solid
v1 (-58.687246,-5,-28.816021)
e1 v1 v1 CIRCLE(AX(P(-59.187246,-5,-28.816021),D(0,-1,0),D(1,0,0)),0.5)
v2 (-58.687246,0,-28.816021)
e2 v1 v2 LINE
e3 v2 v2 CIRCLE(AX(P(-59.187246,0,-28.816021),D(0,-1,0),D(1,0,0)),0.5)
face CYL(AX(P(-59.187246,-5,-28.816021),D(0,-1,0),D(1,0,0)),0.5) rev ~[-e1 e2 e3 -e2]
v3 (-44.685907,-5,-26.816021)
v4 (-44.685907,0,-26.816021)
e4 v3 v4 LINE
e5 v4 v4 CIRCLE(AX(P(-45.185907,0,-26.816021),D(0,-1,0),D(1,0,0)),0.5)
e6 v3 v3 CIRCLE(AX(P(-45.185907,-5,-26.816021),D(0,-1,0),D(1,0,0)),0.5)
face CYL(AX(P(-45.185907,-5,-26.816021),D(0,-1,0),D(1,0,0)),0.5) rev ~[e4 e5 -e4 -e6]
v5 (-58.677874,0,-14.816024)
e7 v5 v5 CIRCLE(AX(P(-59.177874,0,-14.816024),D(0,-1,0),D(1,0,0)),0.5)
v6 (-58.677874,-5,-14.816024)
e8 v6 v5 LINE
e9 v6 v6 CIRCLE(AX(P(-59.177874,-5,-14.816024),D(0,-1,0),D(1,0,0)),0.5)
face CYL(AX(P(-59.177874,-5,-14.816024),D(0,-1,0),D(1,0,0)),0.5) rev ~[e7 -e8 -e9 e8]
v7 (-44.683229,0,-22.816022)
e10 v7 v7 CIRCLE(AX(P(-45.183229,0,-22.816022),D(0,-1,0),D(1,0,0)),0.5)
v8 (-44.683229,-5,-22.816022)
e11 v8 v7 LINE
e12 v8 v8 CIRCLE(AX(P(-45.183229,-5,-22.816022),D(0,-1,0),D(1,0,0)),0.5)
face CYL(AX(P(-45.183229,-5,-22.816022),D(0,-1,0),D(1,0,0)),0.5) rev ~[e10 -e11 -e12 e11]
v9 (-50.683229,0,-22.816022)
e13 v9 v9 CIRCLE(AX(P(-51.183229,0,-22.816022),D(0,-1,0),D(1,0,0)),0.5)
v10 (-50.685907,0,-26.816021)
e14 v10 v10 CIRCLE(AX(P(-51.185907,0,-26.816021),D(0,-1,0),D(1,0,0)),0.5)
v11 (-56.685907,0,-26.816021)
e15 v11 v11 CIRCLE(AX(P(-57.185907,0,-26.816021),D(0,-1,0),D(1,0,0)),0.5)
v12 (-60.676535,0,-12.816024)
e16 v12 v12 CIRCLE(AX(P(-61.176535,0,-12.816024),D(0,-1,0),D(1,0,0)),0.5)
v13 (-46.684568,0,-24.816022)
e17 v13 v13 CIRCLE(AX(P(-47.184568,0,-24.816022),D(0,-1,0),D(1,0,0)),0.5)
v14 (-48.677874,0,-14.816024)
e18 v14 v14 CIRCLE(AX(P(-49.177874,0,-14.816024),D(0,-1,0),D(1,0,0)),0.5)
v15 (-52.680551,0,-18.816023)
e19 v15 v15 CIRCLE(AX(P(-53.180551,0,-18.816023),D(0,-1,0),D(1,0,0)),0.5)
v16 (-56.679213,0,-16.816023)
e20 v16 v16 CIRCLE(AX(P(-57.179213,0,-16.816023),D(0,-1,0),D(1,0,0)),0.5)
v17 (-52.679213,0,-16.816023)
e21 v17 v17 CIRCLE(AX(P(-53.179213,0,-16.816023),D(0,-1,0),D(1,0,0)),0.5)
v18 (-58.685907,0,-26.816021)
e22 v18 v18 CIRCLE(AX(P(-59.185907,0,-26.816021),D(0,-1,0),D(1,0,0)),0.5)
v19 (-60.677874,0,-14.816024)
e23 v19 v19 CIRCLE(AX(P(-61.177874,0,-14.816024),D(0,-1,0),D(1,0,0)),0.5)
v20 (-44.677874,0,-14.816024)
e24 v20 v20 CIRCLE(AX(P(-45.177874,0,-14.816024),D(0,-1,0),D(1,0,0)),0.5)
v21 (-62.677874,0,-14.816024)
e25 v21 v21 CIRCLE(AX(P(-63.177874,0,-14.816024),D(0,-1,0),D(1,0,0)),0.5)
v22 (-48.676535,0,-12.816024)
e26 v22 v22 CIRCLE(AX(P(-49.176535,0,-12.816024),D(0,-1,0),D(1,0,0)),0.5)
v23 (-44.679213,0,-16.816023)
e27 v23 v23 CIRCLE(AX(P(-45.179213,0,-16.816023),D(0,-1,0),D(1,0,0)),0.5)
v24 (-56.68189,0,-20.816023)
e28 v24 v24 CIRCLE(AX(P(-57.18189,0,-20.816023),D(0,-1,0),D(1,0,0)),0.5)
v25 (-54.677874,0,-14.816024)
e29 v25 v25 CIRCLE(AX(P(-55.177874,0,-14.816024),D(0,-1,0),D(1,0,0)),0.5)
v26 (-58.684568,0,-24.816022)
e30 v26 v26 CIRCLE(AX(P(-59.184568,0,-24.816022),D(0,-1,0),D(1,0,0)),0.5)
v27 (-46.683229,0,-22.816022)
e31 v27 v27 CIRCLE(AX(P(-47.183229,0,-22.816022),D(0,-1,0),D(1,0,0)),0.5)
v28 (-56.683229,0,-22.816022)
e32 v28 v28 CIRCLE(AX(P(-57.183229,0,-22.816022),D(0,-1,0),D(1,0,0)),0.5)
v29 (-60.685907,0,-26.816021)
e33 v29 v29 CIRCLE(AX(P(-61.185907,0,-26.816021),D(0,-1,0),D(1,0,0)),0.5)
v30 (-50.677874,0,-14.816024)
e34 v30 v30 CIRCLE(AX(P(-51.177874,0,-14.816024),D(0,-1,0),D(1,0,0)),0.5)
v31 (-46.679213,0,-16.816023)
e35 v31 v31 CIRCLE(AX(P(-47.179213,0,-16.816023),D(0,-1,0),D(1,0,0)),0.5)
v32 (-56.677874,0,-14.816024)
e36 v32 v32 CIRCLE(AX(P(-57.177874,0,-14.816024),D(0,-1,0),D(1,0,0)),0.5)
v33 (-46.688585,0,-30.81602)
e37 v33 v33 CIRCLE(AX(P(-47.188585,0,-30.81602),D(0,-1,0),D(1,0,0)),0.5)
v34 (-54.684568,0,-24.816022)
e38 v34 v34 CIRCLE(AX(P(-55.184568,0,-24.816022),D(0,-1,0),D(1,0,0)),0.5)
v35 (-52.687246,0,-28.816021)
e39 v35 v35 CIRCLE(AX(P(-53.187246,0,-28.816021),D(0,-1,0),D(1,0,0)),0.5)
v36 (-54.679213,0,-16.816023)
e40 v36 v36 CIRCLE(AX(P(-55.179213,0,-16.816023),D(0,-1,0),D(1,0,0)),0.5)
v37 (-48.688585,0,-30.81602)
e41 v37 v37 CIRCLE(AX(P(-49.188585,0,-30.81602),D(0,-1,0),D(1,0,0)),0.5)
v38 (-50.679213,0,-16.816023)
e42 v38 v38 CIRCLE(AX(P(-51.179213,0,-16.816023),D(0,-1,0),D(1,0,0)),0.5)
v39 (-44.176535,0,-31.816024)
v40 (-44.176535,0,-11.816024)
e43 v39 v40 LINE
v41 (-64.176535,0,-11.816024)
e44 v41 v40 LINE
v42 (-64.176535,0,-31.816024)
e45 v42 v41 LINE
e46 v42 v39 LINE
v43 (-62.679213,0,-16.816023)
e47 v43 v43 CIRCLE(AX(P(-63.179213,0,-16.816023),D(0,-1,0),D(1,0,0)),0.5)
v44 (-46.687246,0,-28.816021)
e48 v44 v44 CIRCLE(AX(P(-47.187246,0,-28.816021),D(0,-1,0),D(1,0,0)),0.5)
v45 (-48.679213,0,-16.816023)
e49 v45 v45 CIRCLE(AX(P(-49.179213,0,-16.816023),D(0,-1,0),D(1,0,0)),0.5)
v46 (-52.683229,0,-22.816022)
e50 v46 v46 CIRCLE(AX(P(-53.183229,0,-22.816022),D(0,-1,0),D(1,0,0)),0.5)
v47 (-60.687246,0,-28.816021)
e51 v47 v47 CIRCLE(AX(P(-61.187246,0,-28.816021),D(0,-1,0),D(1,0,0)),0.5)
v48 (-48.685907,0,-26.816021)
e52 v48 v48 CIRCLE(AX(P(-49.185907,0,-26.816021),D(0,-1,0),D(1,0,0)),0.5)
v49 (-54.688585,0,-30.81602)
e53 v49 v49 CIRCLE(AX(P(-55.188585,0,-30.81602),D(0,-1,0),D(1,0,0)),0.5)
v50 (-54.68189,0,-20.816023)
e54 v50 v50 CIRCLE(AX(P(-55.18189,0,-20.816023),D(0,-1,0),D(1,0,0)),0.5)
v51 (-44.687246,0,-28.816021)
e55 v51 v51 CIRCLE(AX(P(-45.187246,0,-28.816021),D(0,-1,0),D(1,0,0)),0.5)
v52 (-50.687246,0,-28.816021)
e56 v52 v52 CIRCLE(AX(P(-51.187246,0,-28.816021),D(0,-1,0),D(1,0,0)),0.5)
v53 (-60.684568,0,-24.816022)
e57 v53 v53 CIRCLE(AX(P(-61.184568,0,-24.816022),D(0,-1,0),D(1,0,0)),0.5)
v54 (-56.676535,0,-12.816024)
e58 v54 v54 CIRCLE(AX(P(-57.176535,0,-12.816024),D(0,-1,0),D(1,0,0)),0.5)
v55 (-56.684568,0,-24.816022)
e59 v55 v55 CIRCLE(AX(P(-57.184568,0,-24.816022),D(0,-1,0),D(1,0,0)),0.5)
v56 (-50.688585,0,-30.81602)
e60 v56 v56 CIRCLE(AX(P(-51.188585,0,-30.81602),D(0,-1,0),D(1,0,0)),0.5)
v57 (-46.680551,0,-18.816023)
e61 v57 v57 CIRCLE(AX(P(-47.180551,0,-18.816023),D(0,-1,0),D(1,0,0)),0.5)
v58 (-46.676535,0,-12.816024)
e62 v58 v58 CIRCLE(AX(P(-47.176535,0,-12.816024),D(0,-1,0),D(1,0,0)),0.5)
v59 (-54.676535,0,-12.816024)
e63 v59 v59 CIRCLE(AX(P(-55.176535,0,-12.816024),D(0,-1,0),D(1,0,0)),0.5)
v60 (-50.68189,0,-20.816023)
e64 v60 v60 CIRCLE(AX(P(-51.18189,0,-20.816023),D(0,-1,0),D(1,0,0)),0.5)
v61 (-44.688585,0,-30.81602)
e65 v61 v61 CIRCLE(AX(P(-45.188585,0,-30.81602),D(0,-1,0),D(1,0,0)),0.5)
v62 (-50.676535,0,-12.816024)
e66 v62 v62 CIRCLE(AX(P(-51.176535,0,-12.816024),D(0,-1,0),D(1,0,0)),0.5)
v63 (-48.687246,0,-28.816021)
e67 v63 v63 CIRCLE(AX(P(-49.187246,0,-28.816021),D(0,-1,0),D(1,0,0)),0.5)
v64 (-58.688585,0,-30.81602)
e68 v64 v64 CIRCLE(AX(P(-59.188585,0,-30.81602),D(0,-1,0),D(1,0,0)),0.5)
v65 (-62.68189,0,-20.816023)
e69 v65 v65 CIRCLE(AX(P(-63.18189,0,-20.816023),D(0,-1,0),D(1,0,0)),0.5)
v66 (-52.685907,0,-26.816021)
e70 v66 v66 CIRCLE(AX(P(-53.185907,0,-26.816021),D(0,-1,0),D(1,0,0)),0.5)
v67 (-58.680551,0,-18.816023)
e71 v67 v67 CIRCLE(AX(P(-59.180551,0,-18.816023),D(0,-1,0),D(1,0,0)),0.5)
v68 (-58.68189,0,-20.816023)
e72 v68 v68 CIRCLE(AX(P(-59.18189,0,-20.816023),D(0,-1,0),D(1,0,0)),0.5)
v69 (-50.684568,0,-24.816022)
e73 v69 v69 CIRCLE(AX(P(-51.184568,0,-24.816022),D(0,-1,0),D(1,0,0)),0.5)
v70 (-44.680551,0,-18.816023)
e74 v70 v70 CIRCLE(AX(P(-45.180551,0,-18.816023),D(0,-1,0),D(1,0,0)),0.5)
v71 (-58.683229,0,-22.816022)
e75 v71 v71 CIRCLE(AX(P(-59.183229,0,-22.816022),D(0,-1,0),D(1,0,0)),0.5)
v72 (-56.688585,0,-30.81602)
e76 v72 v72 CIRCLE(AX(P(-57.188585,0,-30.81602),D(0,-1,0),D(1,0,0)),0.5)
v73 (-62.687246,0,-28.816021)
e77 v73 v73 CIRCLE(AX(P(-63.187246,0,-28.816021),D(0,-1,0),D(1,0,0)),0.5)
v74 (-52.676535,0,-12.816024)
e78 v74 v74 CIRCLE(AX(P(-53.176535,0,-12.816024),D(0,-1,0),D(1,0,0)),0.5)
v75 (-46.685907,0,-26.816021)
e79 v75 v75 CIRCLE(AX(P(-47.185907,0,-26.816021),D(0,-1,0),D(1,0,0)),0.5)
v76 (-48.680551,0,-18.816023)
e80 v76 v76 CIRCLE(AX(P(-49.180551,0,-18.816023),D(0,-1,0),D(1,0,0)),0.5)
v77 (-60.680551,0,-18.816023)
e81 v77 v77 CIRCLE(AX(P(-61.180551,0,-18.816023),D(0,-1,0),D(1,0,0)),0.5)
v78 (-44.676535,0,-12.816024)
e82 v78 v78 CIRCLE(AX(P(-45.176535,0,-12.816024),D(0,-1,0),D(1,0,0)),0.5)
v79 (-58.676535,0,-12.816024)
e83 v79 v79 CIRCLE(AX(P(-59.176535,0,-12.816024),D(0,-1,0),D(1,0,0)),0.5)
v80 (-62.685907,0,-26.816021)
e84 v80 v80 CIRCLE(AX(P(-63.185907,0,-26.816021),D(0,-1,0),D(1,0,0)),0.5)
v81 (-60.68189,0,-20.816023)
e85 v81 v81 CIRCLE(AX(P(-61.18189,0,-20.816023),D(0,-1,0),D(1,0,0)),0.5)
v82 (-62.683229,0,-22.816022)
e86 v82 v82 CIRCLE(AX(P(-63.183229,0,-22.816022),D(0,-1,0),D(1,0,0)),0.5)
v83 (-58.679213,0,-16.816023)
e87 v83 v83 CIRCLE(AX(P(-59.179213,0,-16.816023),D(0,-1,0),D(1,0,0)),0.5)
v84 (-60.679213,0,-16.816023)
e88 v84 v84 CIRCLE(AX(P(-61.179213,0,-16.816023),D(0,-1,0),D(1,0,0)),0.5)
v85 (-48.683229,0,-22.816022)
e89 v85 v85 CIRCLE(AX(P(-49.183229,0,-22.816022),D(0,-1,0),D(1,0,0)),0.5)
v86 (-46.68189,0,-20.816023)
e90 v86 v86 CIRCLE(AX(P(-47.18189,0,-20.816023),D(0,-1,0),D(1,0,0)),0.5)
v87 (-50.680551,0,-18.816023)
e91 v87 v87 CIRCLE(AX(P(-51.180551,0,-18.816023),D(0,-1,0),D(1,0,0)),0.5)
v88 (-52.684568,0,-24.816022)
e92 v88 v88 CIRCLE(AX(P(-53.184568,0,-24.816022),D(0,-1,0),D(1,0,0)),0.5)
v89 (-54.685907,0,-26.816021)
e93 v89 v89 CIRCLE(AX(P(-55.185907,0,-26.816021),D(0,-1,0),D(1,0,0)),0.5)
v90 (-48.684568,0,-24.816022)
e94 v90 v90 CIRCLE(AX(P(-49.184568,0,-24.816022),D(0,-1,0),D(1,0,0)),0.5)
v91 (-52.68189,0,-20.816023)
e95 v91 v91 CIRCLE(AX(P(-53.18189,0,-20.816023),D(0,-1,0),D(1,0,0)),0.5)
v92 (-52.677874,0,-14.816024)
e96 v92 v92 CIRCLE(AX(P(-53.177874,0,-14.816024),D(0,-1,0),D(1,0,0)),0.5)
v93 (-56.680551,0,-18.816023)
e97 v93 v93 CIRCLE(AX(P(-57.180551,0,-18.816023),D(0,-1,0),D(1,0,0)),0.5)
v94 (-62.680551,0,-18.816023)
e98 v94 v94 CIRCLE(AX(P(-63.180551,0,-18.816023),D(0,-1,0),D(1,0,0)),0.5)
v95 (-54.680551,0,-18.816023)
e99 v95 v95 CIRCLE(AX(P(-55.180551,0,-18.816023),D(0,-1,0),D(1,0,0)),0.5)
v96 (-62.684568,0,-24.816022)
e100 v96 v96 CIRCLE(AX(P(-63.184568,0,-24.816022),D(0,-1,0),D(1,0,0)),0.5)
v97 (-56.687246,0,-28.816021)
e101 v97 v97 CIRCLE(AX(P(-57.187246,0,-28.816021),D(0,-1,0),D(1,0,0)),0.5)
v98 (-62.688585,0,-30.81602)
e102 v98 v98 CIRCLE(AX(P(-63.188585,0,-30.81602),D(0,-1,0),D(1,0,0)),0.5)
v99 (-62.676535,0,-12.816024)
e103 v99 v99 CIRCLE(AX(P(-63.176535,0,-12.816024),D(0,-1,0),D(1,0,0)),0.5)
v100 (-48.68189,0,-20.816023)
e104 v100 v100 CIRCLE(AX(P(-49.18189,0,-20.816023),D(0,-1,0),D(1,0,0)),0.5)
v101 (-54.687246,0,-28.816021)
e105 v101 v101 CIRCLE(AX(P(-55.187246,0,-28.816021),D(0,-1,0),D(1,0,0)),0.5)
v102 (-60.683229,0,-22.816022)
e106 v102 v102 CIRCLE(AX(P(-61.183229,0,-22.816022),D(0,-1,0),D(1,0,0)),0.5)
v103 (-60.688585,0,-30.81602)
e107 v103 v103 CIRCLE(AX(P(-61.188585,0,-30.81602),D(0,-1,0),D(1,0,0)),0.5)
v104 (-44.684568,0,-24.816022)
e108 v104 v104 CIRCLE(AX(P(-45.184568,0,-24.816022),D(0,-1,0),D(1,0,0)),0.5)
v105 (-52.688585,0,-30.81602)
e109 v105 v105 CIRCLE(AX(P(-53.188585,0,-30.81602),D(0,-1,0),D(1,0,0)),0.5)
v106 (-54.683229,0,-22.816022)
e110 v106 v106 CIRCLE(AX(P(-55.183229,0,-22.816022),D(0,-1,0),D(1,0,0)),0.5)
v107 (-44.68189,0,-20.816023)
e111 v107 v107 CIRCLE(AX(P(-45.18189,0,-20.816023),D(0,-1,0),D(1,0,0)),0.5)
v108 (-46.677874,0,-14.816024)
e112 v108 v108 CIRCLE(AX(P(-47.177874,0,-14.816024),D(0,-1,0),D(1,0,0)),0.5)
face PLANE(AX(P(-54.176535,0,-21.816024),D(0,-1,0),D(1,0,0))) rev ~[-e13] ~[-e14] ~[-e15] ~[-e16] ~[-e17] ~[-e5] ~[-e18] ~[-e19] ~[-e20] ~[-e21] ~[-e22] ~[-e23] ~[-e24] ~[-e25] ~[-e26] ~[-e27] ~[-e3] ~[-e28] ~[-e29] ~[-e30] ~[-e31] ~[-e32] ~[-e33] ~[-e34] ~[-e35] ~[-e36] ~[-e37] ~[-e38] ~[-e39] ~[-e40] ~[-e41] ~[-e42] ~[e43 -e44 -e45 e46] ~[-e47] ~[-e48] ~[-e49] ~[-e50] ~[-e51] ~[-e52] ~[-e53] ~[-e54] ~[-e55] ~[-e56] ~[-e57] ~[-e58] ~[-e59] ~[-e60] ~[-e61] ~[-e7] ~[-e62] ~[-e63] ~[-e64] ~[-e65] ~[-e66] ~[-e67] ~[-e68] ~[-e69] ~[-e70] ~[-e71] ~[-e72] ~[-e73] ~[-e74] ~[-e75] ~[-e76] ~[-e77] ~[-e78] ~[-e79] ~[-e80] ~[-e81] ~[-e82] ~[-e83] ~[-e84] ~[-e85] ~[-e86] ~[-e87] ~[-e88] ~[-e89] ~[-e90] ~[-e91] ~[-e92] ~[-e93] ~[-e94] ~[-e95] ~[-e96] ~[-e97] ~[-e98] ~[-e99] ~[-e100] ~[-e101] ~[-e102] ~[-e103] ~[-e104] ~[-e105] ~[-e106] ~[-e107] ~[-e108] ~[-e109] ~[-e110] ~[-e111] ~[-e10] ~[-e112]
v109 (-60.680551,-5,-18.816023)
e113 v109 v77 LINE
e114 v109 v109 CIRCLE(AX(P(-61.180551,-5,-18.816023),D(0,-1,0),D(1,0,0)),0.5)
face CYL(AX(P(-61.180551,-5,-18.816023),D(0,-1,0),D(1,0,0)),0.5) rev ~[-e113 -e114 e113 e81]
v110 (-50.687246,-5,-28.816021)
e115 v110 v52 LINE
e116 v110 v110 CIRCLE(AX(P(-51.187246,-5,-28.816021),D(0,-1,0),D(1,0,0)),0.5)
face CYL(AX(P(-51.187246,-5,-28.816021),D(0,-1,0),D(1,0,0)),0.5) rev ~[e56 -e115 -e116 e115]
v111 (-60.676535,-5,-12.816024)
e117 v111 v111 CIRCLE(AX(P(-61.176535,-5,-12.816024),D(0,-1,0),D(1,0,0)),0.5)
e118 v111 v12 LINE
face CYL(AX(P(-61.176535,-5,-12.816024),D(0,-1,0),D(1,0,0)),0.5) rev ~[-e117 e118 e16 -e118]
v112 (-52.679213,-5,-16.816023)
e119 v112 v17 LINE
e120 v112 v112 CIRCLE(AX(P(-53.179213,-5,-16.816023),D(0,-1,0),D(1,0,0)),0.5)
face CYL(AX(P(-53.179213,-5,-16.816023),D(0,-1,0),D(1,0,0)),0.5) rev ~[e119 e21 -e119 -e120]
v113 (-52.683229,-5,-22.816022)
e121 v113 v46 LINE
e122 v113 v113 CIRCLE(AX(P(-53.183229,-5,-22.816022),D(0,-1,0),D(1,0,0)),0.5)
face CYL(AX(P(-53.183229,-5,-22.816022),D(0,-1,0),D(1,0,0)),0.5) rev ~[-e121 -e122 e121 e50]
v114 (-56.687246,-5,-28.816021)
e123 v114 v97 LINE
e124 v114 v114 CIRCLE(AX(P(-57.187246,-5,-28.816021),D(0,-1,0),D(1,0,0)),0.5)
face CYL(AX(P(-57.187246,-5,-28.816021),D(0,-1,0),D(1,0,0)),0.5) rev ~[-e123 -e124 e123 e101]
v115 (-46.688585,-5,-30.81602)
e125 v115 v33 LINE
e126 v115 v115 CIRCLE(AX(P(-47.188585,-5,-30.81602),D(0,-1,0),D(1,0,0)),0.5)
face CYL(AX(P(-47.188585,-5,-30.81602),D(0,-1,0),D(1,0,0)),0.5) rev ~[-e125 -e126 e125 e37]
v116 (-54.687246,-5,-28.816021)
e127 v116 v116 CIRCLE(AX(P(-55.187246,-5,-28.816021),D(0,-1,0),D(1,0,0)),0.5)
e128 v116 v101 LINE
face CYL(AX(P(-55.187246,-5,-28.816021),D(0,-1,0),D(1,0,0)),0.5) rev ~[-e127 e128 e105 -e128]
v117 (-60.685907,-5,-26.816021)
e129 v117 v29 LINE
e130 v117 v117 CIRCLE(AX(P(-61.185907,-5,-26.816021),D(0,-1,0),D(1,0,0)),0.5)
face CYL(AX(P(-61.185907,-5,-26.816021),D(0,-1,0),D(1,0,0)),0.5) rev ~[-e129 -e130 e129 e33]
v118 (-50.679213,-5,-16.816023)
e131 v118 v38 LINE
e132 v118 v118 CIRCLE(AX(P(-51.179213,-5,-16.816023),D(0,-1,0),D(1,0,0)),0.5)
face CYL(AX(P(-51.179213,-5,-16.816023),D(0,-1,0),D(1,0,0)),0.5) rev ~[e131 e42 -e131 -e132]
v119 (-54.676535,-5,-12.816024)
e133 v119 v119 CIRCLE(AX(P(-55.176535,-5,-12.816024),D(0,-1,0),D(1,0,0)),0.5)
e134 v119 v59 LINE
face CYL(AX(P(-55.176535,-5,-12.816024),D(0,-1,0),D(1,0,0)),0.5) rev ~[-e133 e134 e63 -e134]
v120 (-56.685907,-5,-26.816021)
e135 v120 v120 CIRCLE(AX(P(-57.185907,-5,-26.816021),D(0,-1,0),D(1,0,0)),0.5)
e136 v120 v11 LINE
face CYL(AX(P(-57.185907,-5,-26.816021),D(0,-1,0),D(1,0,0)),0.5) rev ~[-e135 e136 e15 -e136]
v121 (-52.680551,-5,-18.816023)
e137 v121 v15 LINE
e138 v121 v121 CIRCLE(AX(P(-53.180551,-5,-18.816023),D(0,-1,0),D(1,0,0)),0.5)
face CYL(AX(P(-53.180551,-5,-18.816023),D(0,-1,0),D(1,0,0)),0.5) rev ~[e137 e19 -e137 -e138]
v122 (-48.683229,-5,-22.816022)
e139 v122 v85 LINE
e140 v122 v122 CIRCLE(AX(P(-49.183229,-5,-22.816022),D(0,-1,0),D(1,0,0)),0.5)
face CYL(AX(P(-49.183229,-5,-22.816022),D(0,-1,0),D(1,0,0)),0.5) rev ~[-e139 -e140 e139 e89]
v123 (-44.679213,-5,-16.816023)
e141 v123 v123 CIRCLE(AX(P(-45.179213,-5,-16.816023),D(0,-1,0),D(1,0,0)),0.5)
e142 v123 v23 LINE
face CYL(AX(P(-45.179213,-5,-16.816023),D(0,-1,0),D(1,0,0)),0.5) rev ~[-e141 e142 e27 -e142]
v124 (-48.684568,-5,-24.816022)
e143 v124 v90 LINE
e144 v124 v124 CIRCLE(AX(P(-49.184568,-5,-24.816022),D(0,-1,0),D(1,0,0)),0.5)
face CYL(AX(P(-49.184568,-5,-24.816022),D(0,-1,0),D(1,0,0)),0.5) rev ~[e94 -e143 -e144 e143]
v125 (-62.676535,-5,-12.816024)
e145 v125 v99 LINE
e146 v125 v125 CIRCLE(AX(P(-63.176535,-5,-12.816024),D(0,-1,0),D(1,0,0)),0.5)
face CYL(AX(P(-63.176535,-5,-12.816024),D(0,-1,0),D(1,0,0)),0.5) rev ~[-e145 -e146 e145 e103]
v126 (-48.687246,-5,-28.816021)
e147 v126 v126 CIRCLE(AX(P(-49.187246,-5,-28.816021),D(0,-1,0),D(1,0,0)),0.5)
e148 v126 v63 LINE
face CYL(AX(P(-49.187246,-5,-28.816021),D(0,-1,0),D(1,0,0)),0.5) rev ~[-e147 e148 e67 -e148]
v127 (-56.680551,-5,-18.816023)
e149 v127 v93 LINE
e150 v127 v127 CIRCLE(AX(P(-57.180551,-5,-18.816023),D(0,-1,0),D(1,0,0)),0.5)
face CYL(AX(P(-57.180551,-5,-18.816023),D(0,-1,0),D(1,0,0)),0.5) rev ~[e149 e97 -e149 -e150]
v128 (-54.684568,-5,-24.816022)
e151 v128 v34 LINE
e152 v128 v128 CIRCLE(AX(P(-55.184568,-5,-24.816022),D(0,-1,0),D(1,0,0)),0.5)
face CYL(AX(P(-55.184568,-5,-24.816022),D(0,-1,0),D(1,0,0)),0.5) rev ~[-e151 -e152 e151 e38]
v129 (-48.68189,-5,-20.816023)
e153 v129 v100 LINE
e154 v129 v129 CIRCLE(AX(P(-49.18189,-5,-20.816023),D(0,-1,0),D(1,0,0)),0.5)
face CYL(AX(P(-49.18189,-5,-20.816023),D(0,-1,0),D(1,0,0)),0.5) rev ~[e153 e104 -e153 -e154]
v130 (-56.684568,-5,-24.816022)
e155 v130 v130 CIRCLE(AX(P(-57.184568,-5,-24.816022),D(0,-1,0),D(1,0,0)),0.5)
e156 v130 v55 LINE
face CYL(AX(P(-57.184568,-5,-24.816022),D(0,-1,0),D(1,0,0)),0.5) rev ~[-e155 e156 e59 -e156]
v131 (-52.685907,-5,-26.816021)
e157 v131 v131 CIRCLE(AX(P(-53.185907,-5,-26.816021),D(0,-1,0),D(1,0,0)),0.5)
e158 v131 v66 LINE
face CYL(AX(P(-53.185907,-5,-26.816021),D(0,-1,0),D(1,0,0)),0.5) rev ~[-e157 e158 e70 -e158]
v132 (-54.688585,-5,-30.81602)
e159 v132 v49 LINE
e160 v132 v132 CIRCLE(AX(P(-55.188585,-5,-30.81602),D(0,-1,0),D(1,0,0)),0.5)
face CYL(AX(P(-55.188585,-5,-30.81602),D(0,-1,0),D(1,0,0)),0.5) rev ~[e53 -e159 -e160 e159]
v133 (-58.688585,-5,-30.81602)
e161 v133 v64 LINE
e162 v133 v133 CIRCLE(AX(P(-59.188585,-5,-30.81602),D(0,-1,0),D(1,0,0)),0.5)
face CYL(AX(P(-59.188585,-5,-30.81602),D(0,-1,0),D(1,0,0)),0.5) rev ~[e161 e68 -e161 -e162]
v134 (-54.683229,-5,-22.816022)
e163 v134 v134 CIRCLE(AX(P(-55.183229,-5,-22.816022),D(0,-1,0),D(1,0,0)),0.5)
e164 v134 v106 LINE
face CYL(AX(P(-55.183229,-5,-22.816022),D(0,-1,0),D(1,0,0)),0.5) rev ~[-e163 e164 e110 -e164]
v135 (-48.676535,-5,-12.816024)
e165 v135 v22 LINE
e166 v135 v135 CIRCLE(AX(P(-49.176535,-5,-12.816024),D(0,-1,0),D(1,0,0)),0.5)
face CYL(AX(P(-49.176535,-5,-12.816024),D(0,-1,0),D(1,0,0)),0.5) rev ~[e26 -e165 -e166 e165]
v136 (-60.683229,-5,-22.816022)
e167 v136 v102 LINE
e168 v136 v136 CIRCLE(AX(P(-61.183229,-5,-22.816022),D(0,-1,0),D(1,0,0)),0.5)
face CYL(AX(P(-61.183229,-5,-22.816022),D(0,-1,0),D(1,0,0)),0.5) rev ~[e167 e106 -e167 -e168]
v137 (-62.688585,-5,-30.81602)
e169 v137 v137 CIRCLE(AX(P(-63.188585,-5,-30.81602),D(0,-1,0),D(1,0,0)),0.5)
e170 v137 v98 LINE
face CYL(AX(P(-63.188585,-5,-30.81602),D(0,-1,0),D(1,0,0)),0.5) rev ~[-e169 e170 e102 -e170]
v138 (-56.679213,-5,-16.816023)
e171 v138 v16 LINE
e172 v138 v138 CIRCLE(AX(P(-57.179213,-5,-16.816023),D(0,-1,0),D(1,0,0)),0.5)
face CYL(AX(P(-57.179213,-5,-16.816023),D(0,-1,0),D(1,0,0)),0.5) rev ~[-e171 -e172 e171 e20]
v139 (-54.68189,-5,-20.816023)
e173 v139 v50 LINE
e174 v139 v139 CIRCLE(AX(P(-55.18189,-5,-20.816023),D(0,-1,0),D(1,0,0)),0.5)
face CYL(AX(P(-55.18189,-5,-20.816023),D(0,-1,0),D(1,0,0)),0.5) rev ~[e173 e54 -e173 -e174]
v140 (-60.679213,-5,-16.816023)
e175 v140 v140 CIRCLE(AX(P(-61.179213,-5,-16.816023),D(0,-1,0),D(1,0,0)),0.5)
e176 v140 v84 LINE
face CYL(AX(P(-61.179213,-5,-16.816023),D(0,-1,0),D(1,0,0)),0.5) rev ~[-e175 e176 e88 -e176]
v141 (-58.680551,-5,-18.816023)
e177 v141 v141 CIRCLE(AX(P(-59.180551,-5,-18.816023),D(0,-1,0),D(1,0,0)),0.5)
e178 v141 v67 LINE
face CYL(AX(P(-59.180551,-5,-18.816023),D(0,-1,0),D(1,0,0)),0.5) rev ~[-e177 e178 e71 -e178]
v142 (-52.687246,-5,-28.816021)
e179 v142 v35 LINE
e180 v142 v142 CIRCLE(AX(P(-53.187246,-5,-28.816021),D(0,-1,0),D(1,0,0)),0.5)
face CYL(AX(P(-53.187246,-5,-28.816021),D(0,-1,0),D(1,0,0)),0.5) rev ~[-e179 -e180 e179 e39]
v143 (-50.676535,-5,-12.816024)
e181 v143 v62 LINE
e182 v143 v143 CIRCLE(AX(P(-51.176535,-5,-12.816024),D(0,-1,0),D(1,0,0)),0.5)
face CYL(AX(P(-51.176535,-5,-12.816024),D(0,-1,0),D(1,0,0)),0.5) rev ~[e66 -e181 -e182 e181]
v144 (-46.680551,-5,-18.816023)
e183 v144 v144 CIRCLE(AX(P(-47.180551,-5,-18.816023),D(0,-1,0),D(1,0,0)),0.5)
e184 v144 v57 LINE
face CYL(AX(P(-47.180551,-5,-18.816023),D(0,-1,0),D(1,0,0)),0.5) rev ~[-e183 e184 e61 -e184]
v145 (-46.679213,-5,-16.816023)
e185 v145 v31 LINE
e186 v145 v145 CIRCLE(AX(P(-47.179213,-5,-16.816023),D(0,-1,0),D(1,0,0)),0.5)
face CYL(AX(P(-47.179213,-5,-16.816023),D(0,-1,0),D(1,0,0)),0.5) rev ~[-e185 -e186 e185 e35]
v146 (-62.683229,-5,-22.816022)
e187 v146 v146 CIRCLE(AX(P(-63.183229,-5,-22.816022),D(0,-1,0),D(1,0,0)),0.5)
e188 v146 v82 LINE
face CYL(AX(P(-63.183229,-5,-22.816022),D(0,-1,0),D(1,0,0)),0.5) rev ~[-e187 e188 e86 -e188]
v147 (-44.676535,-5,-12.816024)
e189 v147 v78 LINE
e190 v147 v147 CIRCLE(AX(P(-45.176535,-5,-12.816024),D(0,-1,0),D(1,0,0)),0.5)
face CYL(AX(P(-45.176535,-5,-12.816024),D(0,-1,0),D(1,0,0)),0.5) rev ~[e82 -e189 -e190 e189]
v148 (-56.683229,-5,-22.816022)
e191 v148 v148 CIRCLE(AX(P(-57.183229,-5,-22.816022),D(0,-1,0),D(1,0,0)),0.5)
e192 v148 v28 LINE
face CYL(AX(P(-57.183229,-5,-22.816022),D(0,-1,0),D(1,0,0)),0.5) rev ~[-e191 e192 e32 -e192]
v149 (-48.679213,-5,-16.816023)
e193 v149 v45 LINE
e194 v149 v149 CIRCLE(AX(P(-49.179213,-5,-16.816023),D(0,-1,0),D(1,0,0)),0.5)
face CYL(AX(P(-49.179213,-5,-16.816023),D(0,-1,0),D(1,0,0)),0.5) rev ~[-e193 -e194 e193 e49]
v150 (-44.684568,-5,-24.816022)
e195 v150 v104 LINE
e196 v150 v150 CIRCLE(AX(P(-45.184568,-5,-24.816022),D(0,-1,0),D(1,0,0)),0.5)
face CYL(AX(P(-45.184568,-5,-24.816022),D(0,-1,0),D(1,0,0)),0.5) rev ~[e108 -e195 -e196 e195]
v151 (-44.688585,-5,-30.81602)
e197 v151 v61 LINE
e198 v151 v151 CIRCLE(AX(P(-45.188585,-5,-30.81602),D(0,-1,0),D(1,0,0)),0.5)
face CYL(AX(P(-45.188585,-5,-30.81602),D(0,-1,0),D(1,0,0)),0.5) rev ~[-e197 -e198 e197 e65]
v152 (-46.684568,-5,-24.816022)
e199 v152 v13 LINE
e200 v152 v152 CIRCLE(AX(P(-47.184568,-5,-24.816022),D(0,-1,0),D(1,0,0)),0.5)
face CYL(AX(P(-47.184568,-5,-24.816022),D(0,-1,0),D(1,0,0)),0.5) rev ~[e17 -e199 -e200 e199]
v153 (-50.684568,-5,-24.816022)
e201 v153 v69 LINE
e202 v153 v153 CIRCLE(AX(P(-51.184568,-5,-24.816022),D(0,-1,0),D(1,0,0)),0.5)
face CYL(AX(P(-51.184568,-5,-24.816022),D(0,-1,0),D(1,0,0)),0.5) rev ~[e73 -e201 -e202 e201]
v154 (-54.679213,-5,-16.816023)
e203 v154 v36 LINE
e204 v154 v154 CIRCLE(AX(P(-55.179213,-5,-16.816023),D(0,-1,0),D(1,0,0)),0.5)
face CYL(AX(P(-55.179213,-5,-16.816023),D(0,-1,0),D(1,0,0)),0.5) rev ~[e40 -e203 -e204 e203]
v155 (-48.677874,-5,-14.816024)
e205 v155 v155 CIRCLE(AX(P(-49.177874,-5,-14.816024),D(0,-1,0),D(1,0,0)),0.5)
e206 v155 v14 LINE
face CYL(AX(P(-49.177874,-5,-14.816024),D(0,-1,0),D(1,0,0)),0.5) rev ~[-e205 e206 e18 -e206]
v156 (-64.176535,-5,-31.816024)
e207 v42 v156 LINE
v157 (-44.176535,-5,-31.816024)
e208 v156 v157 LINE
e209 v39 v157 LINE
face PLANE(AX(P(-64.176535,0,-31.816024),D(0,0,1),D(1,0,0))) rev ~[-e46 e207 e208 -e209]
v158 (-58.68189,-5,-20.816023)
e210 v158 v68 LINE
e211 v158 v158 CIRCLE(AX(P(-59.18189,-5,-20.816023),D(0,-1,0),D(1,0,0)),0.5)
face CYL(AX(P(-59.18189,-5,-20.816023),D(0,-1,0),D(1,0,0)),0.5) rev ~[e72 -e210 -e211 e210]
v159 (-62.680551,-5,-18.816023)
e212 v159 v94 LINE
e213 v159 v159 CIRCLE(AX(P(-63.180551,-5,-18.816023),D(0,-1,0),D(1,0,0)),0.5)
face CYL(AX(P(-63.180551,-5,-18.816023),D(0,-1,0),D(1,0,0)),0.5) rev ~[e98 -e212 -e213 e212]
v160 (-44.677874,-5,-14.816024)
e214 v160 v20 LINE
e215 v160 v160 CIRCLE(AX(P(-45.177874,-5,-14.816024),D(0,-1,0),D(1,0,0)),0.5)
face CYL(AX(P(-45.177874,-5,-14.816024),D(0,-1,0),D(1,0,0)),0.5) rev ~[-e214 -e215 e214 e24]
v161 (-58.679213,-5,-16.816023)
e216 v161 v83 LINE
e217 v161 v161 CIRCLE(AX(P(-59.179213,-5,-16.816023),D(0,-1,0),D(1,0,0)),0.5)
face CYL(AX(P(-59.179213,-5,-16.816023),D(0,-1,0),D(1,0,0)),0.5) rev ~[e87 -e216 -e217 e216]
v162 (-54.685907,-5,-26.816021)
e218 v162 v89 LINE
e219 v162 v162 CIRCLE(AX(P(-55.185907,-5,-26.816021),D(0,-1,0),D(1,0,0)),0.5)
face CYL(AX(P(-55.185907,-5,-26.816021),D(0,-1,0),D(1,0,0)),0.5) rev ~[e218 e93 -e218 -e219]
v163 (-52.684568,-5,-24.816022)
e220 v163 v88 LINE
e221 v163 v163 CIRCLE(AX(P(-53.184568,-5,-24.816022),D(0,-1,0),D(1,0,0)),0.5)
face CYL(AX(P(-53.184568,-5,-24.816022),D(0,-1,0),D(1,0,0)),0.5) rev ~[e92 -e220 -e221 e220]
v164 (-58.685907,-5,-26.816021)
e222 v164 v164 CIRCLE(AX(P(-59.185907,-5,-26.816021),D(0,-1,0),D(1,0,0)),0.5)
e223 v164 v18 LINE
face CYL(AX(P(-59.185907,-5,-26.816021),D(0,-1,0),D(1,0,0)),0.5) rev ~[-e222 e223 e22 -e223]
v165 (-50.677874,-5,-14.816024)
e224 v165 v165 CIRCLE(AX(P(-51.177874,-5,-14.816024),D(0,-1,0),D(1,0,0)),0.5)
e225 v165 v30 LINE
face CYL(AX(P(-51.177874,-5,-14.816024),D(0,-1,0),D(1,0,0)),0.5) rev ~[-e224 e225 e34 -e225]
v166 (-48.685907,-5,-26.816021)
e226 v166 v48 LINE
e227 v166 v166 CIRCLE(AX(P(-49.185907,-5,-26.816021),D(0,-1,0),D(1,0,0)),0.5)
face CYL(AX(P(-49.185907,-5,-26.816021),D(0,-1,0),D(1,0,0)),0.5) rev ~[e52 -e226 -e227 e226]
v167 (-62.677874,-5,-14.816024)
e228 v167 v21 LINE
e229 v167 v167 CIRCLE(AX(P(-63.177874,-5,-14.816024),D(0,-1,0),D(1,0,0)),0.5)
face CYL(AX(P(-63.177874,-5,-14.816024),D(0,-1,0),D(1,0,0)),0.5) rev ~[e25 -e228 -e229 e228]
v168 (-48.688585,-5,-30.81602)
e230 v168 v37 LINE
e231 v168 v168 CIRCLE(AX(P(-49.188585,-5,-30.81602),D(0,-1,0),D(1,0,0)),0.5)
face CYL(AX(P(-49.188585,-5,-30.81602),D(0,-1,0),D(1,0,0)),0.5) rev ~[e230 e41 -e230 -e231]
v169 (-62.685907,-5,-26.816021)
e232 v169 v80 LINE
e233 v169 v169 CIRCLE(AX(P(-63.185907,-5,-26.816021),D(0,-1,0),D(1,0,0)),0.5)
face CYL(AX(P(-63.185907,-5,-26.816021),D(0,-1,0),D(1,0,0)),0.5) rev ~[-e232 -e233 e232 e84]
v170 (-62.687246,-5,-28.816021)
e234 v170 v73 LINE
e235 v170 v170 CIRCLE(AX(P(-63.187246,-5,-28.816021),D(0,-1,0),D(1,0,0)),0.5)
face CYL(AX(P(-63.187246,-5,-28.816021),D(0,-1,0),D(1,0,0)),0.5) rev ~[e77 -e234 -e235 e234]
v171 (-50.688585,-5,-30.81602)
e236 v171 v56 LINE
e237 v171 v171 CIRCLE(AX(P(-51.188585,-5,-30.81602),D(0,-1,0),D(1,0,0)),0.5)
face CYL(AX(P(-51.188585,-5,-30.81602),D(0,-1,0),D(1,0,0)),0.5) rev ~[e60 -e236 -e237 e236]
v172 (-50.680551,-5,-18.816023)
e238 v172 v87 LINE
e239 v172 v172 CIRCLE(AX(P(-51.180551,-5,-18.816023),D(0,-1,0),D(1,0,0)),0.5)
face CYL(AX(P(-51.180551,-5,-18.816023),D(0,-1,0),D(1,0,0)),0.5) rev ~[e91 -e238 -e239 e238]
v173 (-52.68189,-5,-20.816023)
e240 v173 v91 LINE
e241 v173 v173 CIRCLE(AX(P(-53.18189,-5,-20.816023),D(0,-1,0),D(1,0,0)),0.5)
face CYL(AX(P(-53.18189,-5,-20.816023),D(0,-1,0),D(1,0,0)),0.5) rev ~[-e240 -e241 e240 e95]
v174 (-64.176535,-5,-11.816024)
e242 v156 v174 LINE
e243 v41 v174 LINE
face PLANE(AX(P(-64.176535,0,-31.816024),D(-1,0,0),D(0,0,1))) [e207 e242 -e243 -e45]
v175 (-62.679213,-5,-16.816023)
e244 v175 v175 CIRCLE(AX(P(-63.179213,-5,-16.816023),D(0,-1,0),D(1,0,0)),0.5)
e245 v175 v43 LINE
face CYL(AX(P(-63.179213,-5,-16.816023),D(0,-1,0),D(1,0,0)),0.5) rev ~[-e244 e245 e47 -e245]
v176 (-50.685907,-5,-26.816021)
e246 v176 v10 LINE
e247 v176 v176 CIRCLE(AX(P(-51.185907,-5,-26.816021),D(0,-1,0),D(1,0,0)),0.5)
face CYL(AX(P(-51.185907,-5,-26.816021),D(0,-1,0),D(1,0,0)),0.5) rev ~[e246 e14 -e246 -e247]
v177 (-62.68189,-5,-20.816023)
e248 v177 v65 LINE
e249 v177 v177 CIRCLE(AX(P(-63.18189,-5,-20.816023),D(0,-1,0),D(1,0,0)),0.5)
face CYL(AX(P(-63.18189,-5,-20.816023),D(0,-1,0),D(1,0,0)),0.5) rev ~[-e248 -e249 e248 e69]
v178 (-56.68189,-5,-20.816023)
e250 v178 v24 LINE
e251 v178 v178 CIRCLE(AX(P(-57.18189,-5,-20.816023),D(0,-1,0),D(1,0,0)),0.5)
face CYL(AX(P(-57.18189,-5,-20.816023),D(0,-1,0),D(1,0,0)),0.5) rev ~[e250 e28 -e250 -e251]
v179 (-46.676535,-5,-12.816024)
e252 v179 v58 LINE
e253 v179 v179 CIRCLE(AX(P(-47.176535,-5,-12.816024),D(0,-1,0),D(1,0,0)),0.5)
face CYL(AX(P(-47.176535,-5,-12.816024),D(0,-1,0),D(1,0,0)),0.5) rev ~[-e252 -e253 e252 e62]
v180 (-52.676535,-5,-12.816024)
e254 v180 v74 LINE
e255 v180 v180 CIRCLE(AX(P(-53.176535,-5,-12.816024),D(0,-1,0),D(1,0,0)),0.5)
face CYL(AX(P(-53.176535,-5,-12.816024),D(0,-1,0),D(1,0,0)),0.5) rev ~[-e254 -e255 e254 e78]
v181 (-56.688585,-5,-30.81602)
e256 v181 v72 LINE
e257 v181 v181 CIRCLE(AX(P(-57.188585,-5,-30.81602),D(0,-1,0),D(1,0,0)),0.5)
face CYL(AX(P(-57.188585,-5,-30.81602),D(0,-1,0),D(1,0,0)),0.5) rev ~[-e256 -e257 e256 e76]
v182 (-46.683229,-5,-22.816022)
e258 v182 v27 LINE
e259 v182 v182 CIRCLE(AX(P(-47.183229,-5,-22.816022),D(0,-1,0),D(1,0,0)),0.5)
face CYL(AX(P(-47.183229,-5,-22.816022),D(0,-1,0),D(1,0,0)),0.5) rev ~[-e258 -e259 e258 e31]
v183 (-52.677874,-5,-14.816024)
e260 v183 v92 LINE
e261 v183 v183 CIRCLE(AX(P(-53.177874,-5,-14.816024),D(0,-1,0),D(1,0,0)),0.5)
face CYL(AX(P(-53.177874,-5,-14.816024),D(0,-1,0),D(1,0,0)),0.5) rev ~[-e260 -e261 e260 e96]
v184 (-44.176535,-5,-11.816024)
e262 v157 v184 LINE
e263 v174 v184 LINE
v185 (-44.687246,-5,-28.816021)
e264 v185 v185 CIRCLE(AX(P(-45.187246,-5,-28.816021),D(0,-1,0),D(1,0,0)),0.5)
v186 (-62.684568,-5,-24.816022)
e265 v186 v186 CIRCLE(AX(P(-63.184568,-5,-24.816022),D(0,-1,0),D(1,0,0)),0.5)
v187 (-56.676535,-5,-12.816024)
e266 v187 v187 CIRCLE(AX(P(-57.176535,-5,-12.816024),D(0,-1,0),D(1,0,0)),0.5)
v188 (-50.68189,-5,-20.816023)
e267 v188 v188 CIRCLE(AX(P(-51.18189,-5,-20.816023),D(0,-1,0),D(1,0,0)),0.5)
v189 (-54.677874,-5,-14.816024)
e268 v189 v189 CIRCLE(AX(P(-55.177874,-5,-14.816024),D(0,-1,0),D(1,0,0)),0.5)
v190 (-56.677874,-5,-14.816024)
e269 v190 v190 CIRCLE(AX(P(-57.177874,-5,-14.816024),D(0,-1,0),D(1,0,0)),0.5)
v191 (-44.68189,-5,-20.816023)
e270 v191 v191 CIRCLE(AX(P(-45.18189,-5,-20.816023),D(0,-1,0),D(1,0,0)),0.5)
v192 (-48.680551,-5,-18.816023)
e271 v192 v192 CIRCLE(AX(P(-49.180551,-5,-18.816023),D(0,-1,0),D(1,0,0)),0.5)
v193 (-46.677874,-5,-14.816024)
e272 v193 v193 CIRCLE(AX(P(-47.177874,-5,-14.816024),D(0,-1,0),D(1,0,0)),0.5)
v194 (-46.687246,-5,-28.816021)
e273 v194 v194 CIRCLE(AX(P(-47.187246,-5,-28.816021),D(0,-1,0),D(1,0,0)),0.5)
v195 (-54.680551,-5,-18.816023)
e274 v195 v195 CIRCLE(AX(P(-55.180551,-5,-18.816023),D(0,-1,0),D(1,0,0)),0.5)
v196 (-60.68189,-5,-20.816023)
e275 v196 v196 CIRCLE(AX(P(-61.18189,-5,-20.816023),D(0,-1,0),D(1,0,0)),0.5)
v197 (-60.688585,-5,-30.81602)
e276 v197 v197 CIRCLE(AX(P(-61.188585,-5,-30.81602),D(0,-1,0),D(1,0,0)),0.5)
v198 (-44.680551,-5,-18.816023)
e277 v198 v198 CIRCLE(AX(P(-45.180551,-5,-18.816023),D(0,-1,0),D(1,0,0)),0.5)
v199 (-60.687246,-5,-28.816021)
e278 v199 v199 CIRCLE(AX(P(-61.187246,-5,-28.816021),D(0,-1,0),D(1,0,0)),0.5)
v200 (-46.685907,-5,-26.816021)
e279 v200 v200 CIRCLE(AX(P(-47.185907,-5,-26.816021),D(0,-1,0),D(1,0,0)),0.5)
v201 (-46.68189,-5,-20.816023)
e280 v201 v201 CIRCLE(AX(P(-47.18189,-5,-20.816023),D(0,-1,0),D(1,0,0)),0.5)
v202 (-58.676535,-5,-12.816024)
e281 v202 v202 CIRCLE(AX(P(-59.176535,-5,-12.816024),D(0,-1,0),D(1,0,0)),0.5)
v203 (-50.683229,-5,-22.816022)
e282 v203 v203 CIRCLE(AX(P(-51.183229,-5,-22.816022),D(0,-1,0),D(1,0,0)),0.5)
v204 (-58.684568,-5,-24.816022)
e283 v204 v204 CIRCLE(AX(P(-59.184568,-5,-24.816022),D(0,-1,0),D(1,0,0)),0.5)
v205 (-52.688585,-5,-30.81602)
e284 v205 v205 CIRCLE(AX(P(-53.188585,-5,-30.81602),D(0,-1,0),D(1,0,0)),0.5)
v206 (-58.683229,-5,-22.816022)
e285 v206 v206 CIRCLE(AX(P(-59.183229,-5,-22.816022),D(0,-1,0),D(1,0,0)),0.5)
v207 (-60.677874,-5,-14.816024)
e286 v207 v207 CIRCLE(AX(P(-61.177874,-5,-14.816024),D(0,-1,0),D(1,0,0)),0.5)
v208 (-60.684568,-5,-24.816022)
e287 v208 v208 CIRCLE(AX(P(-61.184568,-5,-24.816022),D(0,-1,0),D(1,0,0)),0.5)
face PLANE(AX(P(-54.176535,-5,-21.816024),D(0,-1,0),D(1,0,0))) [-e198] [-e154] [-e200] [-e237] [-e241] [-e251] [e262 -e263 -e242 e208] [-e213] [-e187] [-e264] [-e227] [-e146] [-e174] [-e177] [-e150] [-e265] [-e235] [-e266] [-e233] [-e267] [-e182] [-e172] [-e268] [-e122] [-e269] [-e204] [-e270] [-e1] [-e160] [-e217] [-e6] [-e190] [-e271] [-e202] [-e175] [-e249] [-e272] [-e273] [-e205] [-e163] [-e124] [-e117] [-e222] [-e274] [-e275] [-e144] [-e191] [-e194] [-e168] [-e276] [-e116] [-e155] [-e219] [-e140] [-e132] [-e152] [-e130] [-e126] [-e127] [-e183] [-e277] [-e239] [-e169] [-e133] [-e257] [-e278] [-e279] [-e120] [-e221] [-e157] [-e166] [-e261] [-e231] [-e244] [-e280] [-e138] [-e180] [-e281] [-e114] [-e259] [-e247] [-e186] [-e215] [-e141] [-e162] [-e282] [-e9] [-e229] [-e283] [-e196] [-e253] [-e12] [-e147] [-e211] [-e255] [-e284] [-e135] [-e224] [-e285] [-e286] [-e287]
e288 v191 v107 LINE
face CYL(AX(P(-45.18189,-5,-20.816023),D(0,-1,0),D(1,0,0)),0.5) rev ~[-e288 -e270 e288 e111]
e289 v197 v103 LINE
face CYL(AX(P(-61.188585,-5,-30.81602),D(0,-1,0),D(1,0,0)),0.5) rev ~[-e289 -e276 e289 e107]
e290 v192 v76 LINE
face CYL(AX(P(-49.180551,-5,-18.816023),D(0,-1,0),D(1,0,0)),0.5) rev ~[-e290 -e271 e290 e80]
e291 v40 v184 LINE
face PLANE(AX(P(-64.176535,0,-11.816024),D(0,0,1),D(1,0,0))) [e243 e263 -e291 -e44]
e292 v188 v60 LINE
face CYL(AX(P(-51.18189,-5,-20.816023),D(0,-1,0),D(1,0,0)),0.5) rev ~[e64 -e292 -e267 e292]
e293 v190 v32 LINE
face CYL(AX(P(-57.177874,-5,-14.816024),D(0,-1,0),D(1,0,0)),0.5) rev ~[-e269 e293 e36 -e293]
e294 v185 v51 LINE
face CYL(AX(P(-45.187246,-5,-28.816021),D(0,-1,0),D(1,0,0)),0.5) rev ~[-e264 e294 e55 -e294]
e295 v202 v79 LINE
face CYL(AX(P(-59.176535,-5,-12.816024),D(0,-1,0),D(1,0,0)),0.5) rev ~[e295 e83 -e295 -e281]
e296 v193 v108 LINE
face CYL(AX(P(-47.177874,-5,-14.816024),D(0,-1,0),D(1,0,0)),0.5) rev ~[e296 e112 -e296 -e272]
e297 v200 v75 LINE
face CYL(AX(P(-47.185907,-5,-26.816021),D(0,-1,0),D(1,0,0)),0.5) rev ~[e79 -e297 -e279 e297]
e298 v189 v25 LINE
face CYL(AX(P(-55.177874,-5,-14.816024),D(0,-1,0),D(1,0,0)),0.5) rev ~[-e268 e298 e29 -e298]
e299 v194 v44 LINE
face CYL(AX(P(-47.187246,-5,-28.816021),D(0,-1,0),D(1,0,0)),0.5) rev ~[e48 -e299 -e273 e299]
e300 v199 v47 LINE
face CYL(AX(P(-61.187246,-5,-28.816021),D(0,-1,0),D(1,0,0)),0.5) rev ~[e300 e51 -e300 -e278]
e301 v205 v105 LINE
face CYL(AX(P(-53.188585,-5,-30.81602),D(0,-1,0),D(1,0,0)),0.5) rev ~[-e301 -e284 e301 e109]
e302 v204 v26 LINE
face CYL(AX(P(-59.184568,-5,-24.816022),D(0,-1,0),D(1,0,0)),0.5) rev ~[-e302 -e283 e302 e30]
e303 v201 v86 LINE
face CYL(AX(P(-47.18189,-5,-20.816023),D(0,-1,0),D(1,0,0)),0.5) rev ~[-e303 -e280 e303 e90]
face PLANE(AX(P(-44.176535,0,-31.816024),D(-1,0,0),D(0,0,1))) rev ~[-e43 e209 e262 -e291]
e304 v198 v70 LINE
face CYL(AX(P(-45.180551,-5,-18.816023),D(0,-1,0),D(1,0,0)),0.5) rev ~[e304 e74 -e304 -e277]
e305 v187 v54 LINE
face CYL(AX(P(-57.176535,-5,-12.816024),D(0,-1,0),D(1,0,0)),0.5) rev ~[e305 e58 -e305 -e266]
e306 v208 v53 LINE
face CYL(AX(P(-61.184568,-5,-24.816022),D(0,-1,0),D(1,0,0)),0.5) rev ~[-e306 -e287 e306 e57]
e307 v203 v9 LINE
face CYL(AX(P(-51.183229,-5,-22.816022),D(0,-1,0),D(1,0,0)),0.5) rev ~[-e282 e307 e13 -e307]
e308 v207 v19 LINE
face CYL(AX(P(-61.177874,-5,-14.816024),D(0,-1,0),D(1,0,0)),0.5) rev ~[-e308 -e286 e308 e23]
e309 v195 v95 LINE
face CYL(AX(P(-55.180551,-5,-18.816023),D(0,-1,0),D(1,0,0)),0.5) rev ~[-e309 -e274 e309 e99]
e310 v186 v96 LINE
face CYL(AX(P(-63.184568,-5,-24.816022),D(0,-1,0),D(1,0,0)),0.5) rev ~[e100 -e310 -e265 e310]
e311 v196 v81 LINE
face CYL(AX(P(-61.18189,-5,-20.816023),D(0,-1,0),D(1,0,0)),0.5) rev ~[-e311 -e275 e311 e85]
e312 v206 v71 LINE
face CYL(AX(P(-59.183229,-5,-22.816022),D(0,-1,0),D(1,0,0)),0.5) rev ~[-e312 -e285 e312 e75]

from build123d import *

# Parameters (mm, degrees)
F0_W     = 20
F0_H     = 20
F1_DEPTH = 5
F2_R     = 0.5
F3_DEPTH = 25


with BuildPart() as f1:
    # F0 (on Front) → F1 (new body)
    with BuildSketch(Plane.XZ):
        with Locations((-54.176535, -21.816024)):
            Rectangle(F0_W, F0_H)
    extrude(amount=F1_DEPTH)

    # F2 (on face) → F3 (cut)
    with BuildSketch(Plane.XZ.offset(5)):
        with Locations((-63.176535, -12.816024)):
            Circle(F2_R)
        with Locations((-61.176535, -12.816024)):
            Circle(F2_R)
        with Locations((-59.176535, -12.816024)):
            Circle(F2_R)
        with Locations((-57.176535, -12.816024)):
            Circle(F2_R)
        with Locations((-55.176535, -12.816024)):
            Circle(F2_R)
        with Locations((-53.176535, -12.816024)):
            Circle(F2_R)
        with Locations((-51.176535, -12.816024)):
            Circle(F2_R)
        with Locations((-49.176535, -12.816024)):
            Circle(F2_R)
        with Locations((-47.176535, -12.816024)):
            Circle(F2_R)
        with Locations((-45.176535, -12.816024)):
            Circle(F2_R)
        with Locations((-47.177874, -14.816024)):
            Circle(F2_R)
        with Locations((-45.177874, -14.816024)):
            Circle(F2_R)
        with Locations((-49.177874, -14.816024)):
            Circle(F2_R)
        with Locations((-51.177874, -14.816024)):
            Circle(F2_R)
        with Locations((-53.177874, -14.816024)):
            Circle(F2_R)
        with Locations((-55.177874, -14.816024)):
            Circle(F2_R)
        with Locations((-57.177874, -14.816024)):
            Circle(F2_R)
        with Locations((-59.177874, -14.816024)):
            Circle(F2_R)
        with Locations((-61.177874, -14.816024)):
            Circle(F2_R)
        with Locations((-63.177874, -14.816024)):
            Circle(F2_R)
        with Locations((-47.179213, -16.816023)):
            Circle(F2_R)
        with Locations((-45.179213, -16.816023)):
            Circle(F2_R)
        with Locations((-49.179213, -16.816023)):
            Circle(F2_R)
        with Locations((-51.179213, -16.816023)):
            Circle(F2_R)
        with Locations((-53.179213, -16.816023)):
            Circle(F2_R)
        with Locations((-55.179213, -16.816023)):
            Circle(F2_R)
        with Locations((-57.179213, -16.816023)):
            Circle(F2_R)
        with Locations((-59.179213, -16.816023)):
            Circle(F2_R)
        with Locations((-61.179213, -16.816023)):
            Circle(F2_R)
        with Locations((-63.179213, -16.816023)):
            Circle(F2_R)
        with Locations((-47.180551, -18.816023)):
            Circle(F2_R)
        with Locations((-45.180551, -18.816023)):
            Circle(F2_R)
        with Locations((-49.180551, -18.816023)):
            Circle(F2_R)
        with Locations((-51.180551, -18.816023)):
            Circle(F2_R)
        with Locations((-53.180551, -18.816023)):
            Circle(F2_R)
        with Locations((-55.180551, -18.816023)):
            Circle(F2_R)
        with Locations((-57.180551, -18.816023)):
            Circle(F2_R)
        with Locations((-59.180551, -18.816023)):
            Circle(F2_R)
        with Locations((-61.180551, -18.816023)):
            Circle(F2_R)
        with Locations((-63.180551, -18.816023)):
            Circle(F2_R)
        with Locations((-47.18189, -20.816023)):
            Circle(F2_R)
        with Locations((-45.18189, -20.816023)):
            Circle(F2_R)
        with Locations((-49.18189, -20.816023)):
            Circle(F2_R)
        with Locations((-51.18189, -20.816023)):
            Circle(F2_R)
        with Locations((-53.18189, -20.816023)):
            Circle(F2_R)
        with Locations((-55.18189, -20.816023)):
            Circle(F2_R)
        with Locations((-57.18189, -20.816023)):
            Circle(F2_R)
        with Locations((-59.18189, -20.816023)):
            Circle(F2_R)
        with Locations((-61.18189, -20.816023)):
            Circle(F2_R)
        with Locations((-63.18189, -20.816023)):
            Circle(F2_R)
        with Locations((-47.183229, -22.816022)):
            Circle(F2_R)
        with Locations((-45.183229, -22.816022)):
            Circle(F2_R)
        with Locations((-49.183229, -22.816022)):
            Circle(F2_R)
        with Locations((-51.183229, -22.816022)):
            Circle(F2_R)
        with Locations((-53.183229, -22.816022)):
            Circle(F2_R)
        with Locations((-55.183229, -22.816022)):
            Circle(F2_R)
        with Locations((-57.183229, -22.816022)):
            Circle(F2_R)
        with Locations((-59.183229, -22.816022)):
            Circle(F2_R)
        with Locations((-61.183229, -22.816022)):
            Circle(F2_R)
        with Locations((-63.183229, -22.816022)):
            Circle(F2_R)
        with Locations((-47.184568, -24.816022)):
            Circle(F2_R)
        with Locations((-45.184568, -24.816022)):
            Circle(F2_R)
        with Locations((-49.184568, -24.816022)):
            Circle(F2_R)
        with Locations((-51.184568, -24.816022)):
            Circle(F2_R)
        with Locations((-53.184568, -24.816022)):
            Circle(F2_R)
        with Locations((-55.184568, -24.816022)):
            Circle(F2_R)
        with Locations((-57.184568, -24.816022)):
            Circle(F2_R)
        with Locations((-59.184568, -24.816022)):
            Circle(F2_R)
        with Locations((-61.184568, -24.816022)):
            Circle(F2_R)
        with Locations((-63.184568, -24.816022)):
            Circle(F2_R)
        with Locations((-47.185907, -26.816021)):
            Circle(F2_R)
        with Locations((-45.185907, -26.816021)):
            Circle(F2_R)
        with Locations((-49.185907, -26.816021)):
            Circle(F2_R)
        with Locations((-51.185907, -26.816021)):
            Circle(F2_R)
        with Locations((-53.185907, -26.816021)):
            Circle(F2_R)
        with Locations((-55.185907, -26.816021)):
            Circle(F2_R)
        with Locations((-57.185907, -26.816021)):
            Circle(F2_R)
        with Locations((-59.185907, -26.816021)):
            Circle(F2_R)
        with Locations((-61.185907, -26.816021)):
            Circle(F2_R)
        with Locations((-63.185907, -26.816021)):
            Circle(F2_R)
        with Locations((-47.187246, -28.816021)):
            Circle(F2_R)
        with Locations((-45.187246, -28.816021)):
            Circle(F2_R)
        with Locations((-49.187246, -28.816021)):
            Circle(F2_R)
        with Locations((-51.187246, -28.816021)):
            Circle(F2_R)
        with Locations((-53.187246, -28.816021)):
            Circle(F2_R)
        with Locations((-55.187246, -28.816021)):
            Circle(F2_R)
        with Locations((-57.187246, -28.816021)):
            Circle(F2_R)
        with Locations((-59.187246, -28.816021)):
            Circle(F2_R)
        with Locations((-61.187246, -28.816021)):
            Circle(F2_R)
        with Locations((-63.187246, -28.816021)):
            Circle(F2_R)
        with Locations((-47.188585, -30.81602)):
            Circle(F2_R)
        with Locations((-45.188585, -30.81602)):
            Circle(F2_R)
        with Locations((-49.188585, -30.81602)):
            Circle(F2_R)
        with Locations((-51.188585, -30.81602)):
            Circle(F2_R)
        with Locations((-53.188585, -30.81602)):
            Circle(F2_R)
        with Locations((-55.188585, -30.81602)):
            Circle(F2_R)
        with Locations((-57.188585, -30.81602)):
            Circle(F2_R)
        with Locations((-59.188585, -30.81602)):
            Circle(F2_R)
        with Locations((-61.188585, -30.81602)):
            Circle(F2_R)
        with Locations((-63.188585, -30.81602)):
            Circle(F2_R)
    extrude(amount=-F3_DEPTH, mode=Mode.SUBTRACT)


solid = f1.part
